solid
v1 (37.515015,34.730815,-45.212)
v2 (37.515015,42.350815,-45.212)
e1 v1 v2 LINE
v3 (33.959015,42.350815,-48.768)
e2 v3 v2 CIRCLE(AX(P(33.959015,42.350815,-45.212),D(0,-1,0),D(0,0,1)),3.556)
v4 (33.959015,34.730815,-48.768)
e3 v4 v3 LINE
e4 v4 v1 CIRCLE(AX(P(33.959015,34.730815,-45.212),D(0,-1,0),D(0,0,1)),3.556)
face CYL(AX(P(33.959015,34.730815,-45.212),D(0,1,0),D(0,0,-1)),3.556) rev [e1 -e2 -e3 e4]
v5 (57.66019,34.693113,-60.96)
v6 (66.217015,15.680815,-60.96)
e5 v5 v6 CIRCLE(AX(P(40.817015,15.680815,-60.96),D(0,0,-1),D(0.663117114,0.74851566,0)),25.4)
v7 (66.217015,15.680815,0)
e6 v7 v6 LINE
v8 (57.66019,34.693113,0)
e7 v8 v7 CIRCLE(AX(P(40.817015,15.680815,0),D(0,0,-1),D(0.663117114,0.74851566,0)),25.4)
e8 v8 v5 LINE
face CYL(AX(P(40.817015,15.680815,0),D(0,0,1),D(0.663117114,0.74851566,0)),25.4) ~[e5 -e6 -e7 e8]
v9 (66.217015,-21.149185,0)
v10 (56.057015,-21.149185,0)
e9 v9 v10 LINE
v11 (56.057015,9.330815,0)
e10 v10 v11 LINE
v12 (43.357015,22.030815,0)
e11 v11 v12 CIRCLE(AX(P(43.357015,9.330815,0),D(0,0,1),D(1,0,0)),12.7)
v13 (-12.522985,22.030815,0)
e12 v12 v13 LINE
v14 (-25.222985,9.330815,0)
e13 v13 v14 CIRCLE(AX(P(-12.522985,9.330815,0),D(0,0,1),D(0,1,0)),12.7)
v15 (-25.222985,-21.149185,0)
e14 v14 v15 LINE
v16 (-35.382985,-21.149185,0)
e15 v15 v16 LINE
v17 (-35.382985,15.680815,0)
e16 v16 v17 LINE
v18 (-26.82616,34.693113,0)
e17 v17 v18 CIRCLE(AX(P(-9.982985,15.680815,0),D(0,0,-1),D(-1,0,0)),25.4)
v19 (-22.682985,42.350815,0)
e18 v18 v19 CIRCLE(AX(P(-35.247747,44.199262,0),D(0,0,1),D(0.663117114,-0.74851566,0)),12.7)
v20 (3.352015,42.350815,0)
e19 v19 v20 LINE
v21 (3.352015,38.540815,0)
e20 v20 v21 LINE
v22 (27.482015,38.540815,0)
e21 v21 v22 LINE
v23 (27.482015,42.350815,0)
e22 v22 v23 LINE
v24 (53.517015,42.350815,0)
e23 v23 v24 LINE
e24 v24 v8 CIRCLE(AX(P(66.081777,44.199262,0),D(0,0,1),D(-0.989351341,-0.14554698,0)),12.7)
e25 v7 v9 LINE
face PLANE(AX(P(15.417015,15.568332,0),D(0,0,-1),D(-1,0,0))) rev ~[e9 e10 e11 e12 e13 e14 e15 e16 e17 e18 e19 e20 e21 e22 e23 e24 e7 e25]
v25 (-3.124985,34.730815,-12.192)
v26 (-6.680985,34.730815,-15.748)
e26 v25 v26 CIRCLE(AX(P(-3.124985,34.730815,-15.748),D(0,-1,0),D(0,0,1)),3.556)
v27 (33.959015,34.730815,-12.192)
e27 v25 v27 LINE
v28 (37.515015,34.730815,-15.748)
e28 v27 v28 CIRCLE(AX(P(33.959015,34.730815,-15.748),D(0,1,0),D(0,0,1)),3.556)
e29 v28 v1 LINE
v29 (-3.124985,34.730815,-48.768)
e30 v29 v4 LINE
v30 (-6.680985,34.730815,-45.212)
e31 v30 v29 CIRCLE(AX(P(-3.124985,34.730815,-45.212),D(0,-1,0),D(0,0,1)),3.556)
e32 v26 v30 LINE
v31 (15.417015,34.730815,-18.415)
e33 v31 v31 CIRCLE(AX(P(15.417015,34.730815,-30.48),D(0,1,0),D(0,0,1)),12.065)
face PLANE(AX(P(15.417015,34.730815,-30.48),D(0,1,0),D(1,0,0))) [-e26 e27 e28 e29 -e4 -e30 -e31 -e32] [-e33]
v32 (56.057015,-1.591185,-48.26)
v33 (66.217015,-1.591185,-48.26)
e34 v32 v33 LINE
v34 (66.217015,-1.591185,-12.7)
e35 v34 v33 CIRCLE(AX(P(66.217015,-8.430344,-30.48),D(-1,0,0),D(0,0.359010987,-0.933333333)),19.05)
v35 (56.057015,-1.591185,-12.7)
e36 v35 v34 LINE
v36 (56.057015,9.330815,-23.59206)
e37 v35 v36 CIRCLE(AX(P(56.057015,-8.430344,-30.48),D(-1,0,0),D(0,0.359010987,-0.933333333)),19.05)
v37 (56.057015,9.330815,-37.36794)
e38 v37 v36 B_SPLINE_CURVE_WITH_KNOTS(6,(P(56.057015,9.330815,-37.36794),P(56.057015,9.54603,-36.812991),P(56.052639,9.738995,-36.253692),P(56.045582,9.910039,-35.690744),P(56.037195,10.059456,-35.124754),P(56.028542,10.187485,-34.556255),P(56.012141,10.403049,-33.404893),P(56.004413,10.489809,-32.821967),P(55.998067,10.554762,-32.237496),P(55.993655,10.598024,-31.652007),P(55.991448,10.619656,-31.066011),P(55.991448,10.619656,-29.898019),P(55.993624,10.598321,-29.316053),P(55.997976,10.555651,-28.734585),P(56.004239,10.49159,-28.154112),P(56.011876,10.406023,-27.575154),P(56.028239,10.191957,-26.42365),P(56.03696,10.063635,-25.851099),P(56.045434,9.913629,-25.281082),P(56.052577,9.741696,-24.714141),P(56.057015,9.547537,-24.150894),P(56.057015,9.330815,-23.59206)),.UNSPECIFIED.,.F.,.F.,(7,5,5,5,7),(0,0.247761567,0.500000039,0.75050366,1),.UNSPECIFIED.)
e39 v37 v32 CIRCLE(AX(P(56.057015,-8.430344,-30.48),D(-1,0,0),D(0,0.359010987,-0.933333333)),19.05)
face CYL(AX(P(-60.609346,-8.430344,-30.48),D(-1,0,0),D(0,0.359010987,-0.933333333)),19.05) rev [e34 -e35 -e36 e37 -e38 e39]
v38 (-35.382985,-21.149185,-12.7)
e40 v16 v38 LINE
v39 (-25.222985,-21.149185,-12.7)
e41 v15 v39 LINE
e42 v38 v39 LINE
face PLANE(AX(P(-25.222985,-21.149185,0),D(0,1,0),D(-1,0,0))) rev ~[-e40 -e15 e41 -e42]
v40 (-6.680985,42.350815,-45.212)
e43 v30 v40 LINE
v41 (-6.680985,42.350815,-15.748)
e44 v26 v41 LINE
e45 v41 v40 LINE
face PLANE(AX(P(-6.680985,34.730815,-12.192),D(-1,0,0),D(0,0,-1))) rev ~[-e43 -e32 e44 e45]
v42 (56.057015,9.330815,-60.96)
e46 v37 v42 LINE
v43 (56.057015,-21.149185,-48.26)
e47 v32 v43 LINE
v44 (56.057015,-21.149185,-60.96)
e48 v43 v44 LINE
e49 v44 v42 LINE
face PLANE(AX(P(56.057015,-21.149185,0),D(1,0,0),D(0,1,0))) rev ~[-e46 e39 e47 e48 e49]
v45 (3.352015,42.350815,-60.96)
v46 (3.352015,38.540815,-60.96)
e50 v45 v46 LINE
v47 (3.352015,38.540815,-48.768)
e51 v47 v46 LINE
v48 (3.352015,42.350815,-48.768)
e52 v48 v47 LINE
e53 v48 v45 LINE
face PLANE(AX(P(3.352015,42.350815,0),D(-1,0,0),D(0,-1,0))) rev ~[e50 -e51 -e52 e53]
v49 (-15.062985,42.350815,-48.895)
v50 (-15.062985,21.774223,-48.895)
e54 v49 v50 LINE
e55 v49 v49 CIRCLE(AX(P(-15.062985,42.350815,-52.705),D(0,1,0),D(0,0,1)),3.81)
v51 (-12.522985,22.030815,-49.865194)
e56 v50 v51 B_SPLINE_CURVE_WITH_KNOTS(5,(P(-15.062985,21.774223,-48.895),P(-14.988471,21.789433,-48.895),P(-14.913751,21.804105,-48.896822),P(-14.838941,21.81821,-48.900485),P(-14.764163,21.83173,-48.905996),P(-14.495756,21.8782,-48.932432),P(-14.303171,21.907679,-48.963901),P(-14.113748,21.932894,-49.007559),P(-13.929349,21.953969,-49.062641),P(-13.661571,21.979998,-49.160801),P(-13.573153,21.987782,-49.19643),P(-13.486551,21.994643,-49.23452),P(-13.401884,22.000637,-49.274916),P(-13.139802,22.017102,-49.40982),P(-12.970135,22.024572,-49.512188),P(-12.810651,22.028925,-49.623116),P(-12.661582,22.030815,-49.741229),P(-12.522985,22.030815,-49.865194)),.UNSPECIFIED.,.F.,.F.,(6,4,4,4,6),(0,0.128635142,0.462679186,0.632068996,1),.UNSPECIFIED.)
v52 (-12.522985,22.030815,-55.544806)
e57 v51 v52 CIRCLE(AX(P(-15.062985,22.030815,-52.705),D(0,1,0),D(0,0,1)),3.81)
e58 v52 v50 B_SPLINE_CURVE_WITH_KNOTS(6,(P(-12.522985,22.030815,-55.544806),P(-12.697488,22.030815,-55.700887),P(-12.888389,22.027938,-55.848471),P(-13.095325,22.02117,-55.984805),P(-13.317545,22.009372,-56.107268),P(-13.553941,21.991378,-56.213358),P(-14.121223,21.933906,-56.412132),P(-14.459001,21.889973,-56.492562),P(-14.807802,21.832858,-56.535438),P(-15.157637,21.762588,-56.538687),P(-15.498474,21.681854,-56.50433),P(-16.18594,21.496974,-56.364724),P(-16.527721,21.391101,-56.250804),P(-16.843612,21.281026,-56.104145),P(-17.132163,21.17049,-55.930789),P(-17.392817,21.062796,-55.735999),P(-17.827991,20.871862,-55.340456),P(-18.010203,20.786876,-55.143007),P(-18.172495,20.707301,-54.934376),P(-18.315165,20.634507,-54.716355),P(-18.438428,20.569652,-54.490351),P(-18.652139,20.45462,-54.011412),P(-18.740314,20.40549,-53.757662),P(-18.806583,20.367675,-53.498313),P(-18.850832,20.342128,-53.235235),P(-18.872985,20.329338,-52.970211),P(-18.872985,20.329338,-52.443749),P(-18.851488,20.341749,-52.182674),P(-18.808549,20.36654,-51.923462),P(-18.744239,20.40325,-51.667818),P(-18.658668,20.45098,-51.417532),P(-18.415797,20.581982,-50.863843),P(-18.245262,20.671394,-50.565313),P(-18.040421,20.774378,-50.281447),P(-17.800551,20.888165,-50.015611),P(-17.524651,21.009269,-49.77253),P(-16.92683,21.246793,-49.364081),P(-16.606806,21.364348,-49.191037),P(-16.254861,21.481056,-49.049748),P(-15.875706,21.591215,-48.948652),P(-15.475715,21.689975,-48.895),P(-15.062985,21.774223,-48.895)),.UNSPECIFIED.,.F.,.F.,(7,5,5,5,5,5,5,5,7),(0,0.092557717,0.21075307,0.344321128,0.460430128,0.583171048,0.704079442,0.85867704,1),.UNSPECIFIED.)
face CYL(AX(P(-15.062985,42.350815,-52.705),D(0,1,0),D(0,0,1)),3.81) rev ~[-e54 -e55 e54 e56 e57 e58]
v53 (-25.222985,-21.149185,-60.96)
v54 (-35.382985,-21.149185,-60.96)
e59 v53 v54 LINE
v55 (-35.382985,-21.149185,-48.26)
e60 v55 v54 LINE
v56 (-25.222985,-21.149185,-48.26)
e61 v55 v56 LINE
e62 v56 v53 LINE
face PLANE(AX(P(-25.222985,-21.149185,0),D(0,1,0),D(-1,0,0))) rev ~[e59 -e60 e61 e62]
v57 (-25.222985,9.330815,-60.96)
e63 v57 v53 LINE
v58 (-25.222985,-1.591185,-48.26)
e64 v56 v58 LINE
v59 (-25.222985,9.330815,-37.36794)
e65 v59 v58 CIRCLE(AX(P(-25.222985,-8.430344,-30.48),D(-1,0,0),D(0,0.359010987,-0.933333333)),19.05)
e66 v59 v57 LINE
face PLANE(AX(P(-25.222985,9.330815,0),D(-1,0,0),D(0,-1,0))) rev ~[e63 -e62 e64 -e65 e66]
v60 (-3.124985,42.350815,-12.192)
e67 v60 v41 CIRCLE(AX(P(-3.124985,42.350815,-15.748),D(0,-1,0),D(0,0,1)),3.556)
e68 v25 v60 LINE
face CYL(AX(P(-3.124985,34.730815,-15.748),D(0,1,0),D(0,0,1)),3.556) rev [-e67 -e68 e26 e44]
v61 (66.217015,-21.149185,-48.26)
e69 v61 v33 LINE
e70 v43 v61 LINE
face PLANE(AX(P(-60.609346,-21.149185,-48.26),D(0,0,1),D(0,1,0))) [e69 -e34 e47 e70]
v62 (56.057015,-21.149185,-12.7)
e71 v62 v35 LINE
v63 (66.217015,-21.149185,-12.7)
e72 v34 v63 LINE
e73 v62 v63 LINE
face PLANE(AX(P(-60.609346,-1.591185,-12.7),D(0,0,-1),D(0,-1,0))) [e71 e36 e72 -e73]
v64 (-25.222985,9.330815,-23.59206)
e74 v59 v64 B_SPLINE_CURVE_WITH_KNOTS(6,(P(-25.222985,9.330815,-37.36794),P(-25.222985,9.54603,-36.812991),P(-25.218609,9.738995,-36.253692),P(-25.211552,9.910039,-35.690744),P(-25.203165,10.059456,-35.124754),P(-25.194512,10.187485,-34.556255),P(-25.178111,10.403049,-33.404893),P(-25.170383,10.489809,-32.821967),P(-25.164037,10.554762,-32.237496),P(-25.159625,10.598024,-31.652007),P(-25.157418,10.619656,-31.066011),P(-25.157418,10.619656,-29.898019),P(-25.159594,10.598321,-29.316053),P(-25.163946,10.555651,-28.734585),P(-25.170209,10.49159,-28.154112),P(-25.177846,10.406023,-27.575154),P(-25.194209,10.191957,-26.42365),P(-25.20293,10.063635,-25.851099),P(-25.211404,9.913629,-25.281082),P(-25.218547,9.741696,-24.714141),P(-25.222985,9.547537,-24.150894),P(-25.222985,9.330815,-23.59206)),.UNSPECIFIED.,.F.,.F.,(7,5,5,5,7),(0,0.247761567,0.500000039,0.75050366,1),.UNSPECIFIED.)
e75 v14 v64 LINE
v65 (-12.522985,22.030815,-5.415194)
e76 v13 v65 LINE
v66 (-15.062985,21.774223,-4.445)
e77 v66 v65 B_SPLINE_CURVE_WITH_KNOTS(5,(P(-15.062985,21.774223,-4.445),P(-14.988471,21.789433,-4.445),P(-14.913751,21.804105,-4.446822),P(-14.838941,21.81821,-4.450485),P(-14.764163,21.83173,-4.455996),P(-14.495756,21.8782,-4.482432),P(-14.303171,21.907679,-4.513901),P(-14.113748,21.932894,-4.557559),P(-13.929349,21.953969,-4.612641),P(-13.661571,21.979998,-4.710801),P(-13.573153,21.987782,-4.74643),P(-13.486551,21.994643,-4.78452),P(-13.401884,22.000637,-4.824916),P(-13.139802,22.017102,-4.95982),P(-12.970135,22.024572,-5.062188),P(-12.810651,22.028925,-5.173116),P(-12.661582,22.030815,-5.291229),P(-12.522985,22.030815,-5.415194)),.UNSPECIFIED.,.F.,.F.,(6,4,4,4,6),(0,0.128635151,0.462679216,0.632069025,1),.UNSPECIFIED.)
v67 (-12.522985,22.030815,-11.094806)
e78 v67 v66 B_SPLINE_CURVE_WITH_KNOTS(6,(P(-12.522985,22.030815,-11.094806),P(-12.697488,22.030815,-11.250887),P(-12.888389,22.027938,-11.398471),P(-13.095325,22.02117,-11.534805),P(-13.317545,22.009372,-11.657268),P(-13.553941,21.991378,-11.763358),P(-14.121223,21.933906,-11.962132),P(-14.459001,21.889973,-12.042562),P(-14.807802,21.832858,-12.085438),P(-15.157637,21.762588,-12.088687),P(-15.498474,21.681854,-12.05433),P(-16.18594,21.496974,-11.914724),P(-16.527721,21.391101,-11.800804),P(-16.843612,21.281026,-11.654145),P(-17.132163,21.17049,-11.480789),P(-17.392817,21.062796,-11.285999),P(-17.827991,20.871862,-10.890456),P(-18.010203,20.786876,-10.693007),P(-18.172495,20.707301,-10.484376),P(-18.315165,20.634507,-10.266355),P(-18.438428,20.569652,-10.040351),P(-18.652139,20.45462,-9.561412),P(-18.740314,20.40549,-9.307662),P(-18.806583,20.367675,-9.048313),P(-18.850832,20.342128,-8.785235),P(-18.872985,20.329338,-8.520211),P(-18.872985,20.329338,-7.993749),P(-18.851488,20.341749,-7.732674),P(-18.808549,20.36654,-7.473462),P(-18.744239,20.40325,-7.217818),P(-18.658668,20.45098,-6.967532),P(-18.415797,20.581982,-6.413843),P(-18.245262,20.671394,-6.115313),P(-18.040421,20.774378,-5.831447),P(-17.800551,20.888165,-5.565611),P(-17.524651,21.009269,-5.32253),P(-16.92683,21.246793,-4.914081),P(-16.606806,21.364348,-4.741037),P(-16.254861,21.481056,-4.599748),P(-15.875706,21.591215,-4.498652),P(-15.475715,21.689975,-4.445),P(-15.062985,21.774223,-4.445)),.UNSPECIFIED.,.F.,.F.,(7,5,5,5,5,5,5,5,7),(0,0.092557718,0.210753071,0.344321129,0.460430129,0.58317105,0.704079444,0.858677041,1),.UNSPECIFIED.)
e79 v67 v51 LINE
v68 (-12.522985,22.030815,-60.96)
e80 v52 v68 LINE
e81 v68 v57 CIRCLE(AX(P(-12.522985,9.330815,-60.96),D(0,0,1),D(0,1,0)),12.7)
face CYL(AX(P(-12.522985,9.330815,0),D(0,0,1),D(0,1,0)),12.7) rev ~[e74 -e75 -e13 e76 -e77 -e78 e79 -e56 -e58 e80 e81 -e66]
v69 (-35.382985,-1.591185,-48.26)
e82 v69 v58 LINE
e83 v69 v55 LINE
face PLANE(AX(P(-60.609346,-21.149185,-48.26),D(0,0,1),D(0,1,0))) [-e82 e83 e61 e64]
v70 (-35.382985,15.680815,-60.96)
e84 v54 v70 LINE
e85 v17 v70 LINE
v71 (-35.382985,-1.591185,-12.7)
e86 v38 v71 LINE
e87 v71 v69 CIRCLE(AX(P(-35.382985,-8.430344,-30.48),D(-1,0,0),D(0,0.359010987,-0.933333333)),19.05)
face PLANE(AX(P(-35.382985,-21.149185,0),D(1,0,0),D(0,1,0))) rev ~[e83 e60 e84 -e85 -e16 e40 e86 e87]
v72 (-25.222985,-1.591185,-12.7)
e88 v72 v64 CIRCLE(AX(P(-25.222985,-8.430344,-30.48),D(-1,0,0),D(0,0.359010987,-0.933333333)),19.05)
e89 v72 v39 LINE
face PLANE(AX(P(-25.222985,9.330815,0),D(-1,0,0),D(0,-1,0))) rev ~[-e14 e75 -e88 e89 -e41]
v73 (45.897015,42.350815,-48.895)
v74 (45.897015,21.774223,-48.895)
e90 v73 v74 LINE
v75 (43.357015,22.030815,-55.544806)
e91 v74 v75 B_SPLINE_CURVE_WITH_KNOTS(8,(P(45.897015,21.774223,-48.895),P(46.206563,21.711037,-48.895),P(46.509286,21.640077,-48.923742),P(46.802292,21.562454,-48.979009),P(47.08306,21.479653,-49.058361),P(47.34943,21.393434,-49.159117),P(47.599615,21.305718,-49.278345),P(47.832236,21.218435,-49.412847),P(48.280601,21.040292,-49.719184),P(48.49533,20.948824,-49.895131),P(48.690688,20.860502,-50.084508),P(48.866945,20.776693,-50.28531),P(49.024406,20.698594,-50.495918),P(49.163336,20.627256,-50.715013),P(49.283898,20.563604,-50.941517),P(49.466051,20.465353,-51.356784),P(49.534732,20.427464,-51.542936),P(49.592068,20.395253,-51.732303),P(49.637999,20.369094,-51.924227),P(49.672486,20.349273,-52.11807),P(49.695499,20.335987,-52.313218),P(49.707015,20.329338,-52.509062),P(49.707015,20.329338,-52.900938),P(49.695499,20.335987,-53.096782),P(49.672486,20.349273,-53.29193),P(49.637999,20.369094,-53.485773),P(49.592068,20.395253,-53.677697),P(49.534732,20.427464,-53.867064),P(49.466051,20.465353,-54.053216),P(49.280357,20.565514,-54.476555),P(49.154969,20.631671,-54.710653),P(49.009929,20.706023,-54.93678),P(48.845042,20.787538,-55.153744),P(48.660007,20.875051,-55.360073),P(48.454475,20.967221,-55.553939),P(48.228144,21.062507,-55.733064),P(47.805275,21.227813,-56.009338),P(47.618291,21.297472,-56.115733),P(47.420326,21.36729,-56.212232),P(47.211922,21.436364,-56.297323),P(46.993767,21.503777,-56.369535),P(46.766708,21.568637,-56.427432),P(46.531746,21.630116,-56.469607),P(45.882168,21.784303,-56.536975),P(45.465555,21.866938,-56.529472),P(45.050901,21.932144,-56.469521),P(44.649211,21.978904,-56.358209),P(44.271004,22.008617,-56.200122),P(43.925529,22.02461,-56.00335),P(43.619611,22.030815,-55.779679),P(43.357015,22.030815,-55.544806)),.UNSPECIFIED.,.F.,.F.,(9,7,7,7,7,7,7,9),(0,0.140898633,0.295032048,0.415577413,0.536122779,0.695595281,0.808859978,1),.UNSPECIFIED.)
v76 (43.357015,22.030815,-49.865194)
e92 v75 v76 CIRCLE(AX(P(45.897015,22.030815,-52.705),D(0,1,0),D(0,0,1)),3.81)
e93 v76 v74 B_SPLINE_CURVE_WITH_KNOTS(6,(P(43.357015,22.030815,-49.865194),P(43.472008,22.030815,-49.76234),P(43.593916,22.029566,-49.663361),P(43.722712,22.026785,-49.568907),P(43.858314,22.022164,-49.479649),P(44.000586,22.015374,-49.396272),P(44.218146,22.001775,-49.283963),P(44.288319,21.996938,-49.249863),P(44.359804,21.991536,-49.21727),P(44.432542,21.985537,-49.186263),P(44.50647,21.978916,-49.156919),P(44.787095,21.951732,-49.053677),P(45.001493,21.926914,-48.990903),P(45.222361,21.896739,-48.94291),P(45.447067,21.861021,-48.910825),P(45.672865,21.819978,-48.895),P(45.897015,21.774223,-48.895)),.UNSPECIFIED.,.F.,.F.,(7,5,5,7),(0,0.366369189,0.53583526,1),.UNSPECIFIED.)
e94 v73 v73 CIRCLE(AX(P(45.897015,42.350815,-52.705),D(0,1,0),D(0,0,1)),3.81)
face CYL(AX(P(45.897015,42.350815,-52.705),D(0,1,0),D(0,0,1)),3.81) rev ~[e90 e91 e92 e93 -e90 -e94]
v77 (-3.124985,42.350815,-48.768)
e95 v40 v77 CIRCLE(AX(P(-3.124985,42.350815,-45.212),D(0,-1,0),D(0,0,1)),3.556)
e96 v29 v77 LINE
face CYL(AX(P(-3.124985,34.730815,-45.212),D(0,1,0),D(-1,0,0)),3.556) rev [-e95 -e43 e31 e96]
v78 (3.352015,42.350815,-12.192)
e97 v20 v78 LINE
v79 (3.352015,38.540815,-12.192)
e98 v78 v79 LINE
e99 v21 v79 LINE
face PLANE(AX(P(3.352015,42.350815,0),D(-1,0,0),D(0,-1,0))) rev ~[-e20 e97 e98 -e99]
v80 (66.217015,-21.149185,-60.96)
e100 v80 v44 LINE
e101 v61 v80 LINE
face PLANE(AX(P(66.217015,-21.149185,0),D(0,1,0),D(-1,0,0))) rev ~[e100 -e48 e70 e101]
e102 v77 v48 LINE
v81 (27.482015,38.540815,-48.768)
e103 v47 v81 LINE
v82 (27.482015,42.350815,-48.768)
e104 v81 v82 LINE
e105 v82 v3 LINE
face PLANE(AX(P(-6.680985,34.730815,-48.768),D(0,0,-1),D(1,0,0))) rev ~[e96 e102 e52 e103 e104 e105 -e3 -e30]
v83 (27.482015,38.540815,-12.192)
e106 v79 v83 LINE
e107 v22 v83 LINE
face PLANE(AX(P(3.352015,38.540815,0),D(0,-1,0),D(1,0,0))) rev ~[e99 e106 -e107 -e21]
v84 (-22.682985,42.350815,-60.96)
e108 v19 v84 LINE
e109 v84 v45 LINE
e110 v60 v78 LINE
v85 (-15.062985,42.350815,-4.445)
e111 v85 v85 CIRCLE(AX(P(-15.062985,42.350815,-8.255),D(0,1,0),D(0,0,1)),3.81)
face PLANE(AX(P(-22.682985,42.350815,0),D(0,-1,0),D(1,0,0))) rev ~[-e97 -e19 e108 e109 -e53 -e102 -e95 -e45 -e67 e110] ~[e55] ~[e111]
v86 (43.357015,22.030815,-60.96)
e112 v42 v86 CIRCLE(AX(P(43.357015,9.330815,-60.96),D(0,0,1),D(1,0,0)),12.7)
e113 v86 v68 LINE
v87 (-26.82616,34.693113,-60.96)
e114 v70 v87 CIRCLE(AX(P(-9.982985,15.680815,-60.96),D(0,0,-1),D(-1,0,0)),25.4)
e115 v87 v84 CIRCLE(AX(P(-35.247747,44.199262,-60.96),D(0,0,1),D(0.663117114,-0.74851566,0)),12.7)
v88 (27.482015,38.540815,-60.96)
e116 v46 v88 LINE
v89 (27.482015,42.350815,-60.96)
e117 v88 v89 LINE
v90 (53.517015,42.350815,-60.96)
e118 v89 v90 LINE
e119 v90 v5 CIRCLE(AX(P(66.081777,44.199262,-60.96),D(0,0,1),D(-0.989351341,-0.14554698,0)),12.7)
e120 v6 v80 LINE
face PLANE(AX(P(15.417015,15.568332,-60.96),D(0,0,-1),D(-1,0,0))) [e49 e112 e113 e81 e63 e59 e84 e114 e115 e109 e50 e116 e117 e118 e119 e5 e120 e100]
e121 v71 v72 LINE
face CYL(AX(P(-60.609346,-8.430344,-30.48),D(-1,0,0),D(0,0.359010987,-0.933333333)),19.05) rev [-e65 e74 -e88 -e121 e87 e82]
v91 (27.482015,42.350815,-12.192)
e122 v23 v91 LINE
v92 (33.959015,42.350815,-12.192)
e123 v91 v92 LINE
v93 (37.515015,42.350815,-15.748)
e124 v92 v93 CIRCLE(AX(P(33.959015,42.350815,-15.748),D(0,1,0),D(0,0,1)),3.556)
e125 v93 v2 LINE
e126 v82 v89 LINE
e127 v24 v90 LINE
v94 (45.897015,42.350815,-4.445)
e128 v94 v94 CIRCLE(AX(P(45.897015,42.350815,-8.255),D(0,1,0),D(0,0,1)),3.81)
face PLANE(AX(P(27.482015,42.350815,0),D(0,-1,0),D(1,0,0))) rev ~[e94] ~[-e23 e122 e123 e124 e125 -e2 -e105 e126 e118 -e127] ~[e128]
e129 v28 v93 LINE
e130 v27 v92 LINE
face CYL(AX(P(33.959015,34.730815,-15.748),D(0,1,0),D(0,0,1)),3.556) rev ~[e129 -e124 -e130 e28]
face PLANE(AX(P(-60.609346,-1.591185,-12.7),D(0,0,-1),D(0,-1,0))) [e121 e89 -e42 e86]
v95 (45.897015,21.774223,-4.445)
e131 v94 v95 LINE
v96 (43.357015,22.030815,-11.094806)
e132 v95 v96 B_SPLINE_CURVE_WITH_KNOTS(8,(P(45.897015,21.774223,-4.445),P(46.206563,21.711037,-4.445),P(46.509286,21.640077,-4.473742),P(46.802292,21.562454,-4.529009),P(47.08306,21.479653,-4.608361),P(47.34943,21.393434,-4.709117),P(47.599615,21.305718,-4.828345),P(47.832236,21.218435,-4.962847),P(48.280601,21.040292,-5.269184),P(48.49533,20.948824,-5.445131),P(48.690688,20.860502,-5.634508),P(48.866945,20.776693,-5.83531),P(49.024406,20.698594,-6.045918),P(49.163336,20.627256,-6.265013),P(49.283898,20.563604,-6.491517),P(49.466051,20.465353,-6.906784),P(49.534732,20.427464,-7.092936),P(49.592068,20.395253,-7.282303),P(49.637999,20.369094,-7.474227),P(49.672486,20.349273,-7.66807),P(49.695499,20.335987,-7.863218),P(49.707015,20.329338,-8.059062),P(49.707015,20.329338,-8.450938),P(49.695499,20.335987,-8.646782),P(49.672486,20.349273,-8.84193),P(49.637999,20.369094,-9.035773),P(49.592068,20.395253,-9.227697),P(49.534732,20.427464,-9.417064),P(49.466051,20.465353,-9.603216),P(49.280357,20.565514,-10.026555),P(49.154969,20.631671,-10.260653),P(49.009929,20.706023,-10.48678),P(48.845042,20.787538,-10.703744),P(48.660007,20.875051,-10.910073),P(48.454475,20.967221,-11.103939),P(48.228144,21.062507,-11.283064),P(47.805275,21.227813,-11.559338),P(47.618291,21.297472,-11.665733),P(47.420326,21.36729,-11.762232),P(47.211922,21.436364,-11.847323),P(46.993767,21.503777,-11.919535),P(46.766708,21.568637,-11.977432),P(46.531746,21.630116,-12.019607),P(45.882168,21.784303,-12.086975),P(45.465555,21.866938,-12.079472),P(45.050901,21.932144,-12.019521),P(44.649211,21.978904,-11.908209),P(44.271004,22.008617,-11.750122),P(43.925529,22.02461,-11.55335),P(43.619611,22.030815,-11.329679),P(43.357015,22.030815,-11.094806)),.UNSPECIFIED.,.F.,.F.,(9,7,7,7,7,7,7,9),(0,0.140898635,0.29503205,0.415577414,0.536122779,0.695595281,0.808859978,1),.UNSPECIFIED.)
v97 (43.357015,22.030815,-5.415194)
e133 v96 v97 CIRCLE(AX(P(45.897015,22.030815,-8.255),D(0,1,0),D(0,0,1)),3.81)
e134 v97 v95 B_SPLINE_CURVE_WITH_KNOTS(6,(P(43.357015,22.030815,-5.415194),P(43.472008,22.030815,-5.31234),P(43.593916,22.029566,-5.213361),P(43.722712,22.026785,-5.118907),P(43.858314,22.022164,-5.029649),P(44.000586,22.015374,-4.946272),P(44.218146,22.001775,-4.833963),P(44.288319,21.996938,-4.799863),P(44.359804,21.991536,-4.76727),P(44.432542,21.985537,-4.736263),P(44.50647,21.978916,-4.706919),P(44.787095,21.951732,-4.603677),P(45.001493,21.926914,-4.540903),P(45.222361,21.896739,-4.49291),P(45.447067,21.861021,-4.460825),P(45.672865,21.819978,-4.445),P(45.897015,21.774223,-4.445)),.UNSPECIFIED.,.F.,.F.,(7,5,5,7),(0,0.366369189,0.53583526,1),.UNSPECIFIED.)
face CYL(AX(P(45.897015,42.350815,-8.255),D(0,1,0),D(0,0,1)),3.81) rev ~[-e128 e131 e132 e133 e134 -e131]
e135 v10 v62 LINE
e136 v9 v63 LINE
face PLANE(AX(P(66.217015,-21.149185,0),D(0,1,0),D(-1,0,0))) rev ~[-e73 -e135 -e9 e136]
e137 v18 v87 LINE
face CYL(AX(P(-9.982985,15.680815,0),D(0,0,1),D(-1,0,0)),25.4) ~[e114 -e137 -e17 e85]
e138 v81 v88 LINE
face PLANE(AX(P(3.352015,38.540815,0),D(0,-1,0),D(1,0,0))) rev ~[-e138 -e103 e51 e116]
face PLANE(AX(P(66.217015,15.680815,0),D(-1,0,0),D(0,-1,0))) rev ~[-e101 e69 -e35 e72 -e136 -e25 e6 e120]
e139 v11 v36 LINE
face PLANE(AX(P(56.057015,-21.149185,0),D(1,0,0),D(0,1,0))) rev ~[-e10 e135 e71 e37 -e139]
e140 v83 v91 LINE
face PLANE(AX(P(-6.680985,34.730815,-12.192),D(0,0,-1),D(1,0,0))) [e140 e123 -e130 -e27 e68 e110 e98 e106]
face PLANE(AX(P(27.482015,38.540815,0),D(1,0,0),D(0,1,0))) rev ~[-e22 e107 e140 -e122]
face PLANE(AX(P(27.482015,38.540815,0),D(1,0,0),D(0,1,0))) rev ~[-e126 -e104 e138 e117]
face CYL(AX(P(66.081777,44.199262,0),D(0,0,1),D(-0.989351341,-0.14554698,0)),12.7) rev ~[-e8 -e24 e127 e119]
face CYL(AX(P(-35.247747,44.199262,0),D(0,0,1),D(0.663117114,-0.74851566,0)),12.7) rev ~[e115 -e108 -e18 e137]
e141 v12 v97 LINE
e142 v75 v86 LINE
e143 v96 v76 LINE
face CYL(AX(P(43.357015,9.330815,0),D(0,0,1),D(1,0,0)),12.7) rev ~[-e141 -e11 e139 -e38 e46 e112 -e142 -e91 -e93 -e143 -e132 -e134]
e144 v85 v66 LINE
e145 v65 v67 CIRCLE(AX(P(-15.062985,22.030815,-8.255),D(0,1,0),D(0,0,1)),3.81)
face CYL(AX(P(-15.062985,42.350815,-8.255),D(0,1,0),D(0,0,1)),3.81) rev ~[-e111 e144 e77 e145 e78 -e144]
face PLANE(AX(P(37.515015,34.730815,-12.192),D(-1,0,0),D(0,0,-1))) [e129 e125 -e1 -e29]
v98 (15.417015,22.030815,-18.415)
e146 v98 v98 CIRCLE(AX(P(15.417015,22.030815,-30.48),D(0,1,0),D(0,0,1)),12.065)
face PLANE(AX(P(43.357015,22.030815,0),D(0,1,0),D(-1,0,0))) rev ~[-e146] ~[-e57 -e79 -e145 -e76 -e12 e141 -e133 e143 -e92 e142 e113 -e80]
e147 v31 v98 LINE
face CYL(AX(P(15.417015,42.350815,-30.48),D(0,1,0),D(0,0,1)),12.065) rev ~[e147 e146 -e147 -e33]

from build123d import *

# Parameters (mm, degrees)
BOSS_EXTRUDE1_DEPTH     = 60.96
CUT_EXTRUDE1_DEPTH      = 3.81
CUT_EXTRUDE1_DEPTH_BACK = 3.81
SKETCH4_W               = 44.196
SKETCH4_H               = 36.576
SKETCH6_R               = 12.065
SKETCH6_R_2             = 3.81
CUT_EXTRUDE2_DEPTH      = 40.64
CUT_EXTRUDE4_DEPTH      = 126.82636128
CUT_EXTRUDE4_DEPTH_BACK = 126.82636128
FILLET1_R               = 3.556


with BuildPart() as part:
    # Sketch2 → Boss-Extrude1 (new body)
    with BuildSketch(Plane.XY):
        with BuildLine():
            Line((-35.382985005, -21.149184515), (-35.382985005, 15.680815485))
            ThreePointArc((-35.382985005, 15.680815485), (-33.145202484, 26.105386529), (-26.826159694, 34.693113252))
            ThreePointArc((-26.826159694, 34.693113252), (-24.077840328, 38.155820727), (-22.682985005, 42.350815485))
            Line((-22.682985005, 42.350815485), (3.352014995, 42.350815485))
            Line((3.352014995, 42.350815485), (3.352014995, 38.540815485))
            Line((3.352014995, 38.540815485), (27.482014995, 38.540815485))
            Line((27.482014995, 38.540815485), (27.482014995, 42.350815485))
            Line((27.482014995, 42.350815485), (53.517014995, 42.350815485))
            ThreePointArc((53.517014995, 42.350815485), (54.911870318, 38.155820727), (57.660189685, 34.693113252))
            ThreePointArc((57.660189685, 34.693113252), (63.979232475, 26.105386529), (66.217014995, 15.680815485))
            Line((66.217014995, 15.680815485), (66.217014995, -21.149184515))
            Line((66.217014995, -21.149184515), (56.057014995, -21.149184515))
            Line((56.057014995, -21.149184515), (56.057014995, 9.330815485))
            ThreePointArc((56.057014995, 9.330815485), (52.337271116, 18.311071606), (43.357014995, 22.030815485))
            Line((43.357014995, 22.030815485), (-12.522985005, 22.030815485))
            ThreePointArc((-12.522985005, 22.030815485), (-21.503241126, 18.311071606), (-25.222985005, 9.330815485))
            Line((-25.222985005, 9.330815485), (-25.222985005, -21.149184515))
            Line((-25.222985005, -21.149184515), (-35.382985005, -21.149184515))
        make_face()
    extrude(amount=-BOSS_EXTRUDE1_DEPTH)

    # Sketch4 → Cut-Extrude1 (cut, two sides: drawn at the far end of the back side and taken through both)
    with BuildSketch(Plane(origin=(0, 38.540815485, 0), x_dir=(1, 0, 0), z_dir=(0, 1, 0)).offset(-CUT_EXTRUDE1_DEPTH_BACK)):
        with Locations((15.417014995, 30.48)):
            Rectangle(SKETCH4_W, SKETCH4_H)
    extrude(amount=CUT_EXTRUDE1_DEPTH + CUT_EXTRUDE1_DEPTH_BACK, mode=Mode.SUBTRACT)

    # Sketch6 → Cut-Extrude2 (cut)
    with BuildSketch(Plane(origin=(0, 42.350815485, 0), x_dir=(1, 0, 0), z_dir=(0, 1, 0))):
        with Locations(Location((15.417014995, 30.48, 0), (0, 0, 270))):
            Circle(SKETCH6_R)
        with Locations(Location((-15.062985005, 8.255, 0), (0, 0, 270))):
            Circle(SKETCH6_R_2)
        with Locations(Location((-15.062985005, 52.705, 0), (0, 0, 270))):
            Circle(SKETCH6_R_2)
        with Locations(Location((45.897014995, 52.705, 0), (0, 0, 270))):
            Circle(SKETCH6_R_2)
        with Locations(Location((45.897014995, 8.255, 0), (0, 0, 270))):
            Circle(SKETCH6_R_2)
    extrude(amount=-CUT_EXTRUDE2_DEPTH, mode=Mode.SUBTRACT)

    # Sketch7 → Cut-Extrude4 (cut, two sides: drawn at the far end of the back side and taken through both)
    with BuildSketch(Plane(origin=(66.217014995, 0, 0), x_dir=(0, 0, -1), z_dir=(1, 0, 0)).offset(-CUT_EXTRUDE4_DEPTH_BACK)):
        with BuildLine():
            Line((12.7, -1.591184515), (12.7, -21.149184515))
            Line((12.7, -21.149184515), (48.26, -21.149184515))
            Line((48.26, -21.149184515), (48.26, -1.591184515))
            ThreePointArc((48.26, -1.591184515), (30.48, 10.61965618), (12.7, -1.591184515))
        make_face()
    extrude(amount=CUT_EXTRUDE4_DEPTH + CUT_EXTRUDE4_DEPTH_BACK, mode=Mode.SUBTRACT)

    # Fillet1
    fillet1_edges = [part.edges().sort_by_distance(p)[0] for p in [
        (37.515014995, 38.540815485, -12.192),
        (37.515014995, 38.540815485, -48.768),
        (-6.680985005, 38.540815485, -48.768),
        (-6.680985005, 38.540815485, -12.192),
    ]]
    fillet(fillet1_edges, radius=FILLET1_R)


solid = part.part
